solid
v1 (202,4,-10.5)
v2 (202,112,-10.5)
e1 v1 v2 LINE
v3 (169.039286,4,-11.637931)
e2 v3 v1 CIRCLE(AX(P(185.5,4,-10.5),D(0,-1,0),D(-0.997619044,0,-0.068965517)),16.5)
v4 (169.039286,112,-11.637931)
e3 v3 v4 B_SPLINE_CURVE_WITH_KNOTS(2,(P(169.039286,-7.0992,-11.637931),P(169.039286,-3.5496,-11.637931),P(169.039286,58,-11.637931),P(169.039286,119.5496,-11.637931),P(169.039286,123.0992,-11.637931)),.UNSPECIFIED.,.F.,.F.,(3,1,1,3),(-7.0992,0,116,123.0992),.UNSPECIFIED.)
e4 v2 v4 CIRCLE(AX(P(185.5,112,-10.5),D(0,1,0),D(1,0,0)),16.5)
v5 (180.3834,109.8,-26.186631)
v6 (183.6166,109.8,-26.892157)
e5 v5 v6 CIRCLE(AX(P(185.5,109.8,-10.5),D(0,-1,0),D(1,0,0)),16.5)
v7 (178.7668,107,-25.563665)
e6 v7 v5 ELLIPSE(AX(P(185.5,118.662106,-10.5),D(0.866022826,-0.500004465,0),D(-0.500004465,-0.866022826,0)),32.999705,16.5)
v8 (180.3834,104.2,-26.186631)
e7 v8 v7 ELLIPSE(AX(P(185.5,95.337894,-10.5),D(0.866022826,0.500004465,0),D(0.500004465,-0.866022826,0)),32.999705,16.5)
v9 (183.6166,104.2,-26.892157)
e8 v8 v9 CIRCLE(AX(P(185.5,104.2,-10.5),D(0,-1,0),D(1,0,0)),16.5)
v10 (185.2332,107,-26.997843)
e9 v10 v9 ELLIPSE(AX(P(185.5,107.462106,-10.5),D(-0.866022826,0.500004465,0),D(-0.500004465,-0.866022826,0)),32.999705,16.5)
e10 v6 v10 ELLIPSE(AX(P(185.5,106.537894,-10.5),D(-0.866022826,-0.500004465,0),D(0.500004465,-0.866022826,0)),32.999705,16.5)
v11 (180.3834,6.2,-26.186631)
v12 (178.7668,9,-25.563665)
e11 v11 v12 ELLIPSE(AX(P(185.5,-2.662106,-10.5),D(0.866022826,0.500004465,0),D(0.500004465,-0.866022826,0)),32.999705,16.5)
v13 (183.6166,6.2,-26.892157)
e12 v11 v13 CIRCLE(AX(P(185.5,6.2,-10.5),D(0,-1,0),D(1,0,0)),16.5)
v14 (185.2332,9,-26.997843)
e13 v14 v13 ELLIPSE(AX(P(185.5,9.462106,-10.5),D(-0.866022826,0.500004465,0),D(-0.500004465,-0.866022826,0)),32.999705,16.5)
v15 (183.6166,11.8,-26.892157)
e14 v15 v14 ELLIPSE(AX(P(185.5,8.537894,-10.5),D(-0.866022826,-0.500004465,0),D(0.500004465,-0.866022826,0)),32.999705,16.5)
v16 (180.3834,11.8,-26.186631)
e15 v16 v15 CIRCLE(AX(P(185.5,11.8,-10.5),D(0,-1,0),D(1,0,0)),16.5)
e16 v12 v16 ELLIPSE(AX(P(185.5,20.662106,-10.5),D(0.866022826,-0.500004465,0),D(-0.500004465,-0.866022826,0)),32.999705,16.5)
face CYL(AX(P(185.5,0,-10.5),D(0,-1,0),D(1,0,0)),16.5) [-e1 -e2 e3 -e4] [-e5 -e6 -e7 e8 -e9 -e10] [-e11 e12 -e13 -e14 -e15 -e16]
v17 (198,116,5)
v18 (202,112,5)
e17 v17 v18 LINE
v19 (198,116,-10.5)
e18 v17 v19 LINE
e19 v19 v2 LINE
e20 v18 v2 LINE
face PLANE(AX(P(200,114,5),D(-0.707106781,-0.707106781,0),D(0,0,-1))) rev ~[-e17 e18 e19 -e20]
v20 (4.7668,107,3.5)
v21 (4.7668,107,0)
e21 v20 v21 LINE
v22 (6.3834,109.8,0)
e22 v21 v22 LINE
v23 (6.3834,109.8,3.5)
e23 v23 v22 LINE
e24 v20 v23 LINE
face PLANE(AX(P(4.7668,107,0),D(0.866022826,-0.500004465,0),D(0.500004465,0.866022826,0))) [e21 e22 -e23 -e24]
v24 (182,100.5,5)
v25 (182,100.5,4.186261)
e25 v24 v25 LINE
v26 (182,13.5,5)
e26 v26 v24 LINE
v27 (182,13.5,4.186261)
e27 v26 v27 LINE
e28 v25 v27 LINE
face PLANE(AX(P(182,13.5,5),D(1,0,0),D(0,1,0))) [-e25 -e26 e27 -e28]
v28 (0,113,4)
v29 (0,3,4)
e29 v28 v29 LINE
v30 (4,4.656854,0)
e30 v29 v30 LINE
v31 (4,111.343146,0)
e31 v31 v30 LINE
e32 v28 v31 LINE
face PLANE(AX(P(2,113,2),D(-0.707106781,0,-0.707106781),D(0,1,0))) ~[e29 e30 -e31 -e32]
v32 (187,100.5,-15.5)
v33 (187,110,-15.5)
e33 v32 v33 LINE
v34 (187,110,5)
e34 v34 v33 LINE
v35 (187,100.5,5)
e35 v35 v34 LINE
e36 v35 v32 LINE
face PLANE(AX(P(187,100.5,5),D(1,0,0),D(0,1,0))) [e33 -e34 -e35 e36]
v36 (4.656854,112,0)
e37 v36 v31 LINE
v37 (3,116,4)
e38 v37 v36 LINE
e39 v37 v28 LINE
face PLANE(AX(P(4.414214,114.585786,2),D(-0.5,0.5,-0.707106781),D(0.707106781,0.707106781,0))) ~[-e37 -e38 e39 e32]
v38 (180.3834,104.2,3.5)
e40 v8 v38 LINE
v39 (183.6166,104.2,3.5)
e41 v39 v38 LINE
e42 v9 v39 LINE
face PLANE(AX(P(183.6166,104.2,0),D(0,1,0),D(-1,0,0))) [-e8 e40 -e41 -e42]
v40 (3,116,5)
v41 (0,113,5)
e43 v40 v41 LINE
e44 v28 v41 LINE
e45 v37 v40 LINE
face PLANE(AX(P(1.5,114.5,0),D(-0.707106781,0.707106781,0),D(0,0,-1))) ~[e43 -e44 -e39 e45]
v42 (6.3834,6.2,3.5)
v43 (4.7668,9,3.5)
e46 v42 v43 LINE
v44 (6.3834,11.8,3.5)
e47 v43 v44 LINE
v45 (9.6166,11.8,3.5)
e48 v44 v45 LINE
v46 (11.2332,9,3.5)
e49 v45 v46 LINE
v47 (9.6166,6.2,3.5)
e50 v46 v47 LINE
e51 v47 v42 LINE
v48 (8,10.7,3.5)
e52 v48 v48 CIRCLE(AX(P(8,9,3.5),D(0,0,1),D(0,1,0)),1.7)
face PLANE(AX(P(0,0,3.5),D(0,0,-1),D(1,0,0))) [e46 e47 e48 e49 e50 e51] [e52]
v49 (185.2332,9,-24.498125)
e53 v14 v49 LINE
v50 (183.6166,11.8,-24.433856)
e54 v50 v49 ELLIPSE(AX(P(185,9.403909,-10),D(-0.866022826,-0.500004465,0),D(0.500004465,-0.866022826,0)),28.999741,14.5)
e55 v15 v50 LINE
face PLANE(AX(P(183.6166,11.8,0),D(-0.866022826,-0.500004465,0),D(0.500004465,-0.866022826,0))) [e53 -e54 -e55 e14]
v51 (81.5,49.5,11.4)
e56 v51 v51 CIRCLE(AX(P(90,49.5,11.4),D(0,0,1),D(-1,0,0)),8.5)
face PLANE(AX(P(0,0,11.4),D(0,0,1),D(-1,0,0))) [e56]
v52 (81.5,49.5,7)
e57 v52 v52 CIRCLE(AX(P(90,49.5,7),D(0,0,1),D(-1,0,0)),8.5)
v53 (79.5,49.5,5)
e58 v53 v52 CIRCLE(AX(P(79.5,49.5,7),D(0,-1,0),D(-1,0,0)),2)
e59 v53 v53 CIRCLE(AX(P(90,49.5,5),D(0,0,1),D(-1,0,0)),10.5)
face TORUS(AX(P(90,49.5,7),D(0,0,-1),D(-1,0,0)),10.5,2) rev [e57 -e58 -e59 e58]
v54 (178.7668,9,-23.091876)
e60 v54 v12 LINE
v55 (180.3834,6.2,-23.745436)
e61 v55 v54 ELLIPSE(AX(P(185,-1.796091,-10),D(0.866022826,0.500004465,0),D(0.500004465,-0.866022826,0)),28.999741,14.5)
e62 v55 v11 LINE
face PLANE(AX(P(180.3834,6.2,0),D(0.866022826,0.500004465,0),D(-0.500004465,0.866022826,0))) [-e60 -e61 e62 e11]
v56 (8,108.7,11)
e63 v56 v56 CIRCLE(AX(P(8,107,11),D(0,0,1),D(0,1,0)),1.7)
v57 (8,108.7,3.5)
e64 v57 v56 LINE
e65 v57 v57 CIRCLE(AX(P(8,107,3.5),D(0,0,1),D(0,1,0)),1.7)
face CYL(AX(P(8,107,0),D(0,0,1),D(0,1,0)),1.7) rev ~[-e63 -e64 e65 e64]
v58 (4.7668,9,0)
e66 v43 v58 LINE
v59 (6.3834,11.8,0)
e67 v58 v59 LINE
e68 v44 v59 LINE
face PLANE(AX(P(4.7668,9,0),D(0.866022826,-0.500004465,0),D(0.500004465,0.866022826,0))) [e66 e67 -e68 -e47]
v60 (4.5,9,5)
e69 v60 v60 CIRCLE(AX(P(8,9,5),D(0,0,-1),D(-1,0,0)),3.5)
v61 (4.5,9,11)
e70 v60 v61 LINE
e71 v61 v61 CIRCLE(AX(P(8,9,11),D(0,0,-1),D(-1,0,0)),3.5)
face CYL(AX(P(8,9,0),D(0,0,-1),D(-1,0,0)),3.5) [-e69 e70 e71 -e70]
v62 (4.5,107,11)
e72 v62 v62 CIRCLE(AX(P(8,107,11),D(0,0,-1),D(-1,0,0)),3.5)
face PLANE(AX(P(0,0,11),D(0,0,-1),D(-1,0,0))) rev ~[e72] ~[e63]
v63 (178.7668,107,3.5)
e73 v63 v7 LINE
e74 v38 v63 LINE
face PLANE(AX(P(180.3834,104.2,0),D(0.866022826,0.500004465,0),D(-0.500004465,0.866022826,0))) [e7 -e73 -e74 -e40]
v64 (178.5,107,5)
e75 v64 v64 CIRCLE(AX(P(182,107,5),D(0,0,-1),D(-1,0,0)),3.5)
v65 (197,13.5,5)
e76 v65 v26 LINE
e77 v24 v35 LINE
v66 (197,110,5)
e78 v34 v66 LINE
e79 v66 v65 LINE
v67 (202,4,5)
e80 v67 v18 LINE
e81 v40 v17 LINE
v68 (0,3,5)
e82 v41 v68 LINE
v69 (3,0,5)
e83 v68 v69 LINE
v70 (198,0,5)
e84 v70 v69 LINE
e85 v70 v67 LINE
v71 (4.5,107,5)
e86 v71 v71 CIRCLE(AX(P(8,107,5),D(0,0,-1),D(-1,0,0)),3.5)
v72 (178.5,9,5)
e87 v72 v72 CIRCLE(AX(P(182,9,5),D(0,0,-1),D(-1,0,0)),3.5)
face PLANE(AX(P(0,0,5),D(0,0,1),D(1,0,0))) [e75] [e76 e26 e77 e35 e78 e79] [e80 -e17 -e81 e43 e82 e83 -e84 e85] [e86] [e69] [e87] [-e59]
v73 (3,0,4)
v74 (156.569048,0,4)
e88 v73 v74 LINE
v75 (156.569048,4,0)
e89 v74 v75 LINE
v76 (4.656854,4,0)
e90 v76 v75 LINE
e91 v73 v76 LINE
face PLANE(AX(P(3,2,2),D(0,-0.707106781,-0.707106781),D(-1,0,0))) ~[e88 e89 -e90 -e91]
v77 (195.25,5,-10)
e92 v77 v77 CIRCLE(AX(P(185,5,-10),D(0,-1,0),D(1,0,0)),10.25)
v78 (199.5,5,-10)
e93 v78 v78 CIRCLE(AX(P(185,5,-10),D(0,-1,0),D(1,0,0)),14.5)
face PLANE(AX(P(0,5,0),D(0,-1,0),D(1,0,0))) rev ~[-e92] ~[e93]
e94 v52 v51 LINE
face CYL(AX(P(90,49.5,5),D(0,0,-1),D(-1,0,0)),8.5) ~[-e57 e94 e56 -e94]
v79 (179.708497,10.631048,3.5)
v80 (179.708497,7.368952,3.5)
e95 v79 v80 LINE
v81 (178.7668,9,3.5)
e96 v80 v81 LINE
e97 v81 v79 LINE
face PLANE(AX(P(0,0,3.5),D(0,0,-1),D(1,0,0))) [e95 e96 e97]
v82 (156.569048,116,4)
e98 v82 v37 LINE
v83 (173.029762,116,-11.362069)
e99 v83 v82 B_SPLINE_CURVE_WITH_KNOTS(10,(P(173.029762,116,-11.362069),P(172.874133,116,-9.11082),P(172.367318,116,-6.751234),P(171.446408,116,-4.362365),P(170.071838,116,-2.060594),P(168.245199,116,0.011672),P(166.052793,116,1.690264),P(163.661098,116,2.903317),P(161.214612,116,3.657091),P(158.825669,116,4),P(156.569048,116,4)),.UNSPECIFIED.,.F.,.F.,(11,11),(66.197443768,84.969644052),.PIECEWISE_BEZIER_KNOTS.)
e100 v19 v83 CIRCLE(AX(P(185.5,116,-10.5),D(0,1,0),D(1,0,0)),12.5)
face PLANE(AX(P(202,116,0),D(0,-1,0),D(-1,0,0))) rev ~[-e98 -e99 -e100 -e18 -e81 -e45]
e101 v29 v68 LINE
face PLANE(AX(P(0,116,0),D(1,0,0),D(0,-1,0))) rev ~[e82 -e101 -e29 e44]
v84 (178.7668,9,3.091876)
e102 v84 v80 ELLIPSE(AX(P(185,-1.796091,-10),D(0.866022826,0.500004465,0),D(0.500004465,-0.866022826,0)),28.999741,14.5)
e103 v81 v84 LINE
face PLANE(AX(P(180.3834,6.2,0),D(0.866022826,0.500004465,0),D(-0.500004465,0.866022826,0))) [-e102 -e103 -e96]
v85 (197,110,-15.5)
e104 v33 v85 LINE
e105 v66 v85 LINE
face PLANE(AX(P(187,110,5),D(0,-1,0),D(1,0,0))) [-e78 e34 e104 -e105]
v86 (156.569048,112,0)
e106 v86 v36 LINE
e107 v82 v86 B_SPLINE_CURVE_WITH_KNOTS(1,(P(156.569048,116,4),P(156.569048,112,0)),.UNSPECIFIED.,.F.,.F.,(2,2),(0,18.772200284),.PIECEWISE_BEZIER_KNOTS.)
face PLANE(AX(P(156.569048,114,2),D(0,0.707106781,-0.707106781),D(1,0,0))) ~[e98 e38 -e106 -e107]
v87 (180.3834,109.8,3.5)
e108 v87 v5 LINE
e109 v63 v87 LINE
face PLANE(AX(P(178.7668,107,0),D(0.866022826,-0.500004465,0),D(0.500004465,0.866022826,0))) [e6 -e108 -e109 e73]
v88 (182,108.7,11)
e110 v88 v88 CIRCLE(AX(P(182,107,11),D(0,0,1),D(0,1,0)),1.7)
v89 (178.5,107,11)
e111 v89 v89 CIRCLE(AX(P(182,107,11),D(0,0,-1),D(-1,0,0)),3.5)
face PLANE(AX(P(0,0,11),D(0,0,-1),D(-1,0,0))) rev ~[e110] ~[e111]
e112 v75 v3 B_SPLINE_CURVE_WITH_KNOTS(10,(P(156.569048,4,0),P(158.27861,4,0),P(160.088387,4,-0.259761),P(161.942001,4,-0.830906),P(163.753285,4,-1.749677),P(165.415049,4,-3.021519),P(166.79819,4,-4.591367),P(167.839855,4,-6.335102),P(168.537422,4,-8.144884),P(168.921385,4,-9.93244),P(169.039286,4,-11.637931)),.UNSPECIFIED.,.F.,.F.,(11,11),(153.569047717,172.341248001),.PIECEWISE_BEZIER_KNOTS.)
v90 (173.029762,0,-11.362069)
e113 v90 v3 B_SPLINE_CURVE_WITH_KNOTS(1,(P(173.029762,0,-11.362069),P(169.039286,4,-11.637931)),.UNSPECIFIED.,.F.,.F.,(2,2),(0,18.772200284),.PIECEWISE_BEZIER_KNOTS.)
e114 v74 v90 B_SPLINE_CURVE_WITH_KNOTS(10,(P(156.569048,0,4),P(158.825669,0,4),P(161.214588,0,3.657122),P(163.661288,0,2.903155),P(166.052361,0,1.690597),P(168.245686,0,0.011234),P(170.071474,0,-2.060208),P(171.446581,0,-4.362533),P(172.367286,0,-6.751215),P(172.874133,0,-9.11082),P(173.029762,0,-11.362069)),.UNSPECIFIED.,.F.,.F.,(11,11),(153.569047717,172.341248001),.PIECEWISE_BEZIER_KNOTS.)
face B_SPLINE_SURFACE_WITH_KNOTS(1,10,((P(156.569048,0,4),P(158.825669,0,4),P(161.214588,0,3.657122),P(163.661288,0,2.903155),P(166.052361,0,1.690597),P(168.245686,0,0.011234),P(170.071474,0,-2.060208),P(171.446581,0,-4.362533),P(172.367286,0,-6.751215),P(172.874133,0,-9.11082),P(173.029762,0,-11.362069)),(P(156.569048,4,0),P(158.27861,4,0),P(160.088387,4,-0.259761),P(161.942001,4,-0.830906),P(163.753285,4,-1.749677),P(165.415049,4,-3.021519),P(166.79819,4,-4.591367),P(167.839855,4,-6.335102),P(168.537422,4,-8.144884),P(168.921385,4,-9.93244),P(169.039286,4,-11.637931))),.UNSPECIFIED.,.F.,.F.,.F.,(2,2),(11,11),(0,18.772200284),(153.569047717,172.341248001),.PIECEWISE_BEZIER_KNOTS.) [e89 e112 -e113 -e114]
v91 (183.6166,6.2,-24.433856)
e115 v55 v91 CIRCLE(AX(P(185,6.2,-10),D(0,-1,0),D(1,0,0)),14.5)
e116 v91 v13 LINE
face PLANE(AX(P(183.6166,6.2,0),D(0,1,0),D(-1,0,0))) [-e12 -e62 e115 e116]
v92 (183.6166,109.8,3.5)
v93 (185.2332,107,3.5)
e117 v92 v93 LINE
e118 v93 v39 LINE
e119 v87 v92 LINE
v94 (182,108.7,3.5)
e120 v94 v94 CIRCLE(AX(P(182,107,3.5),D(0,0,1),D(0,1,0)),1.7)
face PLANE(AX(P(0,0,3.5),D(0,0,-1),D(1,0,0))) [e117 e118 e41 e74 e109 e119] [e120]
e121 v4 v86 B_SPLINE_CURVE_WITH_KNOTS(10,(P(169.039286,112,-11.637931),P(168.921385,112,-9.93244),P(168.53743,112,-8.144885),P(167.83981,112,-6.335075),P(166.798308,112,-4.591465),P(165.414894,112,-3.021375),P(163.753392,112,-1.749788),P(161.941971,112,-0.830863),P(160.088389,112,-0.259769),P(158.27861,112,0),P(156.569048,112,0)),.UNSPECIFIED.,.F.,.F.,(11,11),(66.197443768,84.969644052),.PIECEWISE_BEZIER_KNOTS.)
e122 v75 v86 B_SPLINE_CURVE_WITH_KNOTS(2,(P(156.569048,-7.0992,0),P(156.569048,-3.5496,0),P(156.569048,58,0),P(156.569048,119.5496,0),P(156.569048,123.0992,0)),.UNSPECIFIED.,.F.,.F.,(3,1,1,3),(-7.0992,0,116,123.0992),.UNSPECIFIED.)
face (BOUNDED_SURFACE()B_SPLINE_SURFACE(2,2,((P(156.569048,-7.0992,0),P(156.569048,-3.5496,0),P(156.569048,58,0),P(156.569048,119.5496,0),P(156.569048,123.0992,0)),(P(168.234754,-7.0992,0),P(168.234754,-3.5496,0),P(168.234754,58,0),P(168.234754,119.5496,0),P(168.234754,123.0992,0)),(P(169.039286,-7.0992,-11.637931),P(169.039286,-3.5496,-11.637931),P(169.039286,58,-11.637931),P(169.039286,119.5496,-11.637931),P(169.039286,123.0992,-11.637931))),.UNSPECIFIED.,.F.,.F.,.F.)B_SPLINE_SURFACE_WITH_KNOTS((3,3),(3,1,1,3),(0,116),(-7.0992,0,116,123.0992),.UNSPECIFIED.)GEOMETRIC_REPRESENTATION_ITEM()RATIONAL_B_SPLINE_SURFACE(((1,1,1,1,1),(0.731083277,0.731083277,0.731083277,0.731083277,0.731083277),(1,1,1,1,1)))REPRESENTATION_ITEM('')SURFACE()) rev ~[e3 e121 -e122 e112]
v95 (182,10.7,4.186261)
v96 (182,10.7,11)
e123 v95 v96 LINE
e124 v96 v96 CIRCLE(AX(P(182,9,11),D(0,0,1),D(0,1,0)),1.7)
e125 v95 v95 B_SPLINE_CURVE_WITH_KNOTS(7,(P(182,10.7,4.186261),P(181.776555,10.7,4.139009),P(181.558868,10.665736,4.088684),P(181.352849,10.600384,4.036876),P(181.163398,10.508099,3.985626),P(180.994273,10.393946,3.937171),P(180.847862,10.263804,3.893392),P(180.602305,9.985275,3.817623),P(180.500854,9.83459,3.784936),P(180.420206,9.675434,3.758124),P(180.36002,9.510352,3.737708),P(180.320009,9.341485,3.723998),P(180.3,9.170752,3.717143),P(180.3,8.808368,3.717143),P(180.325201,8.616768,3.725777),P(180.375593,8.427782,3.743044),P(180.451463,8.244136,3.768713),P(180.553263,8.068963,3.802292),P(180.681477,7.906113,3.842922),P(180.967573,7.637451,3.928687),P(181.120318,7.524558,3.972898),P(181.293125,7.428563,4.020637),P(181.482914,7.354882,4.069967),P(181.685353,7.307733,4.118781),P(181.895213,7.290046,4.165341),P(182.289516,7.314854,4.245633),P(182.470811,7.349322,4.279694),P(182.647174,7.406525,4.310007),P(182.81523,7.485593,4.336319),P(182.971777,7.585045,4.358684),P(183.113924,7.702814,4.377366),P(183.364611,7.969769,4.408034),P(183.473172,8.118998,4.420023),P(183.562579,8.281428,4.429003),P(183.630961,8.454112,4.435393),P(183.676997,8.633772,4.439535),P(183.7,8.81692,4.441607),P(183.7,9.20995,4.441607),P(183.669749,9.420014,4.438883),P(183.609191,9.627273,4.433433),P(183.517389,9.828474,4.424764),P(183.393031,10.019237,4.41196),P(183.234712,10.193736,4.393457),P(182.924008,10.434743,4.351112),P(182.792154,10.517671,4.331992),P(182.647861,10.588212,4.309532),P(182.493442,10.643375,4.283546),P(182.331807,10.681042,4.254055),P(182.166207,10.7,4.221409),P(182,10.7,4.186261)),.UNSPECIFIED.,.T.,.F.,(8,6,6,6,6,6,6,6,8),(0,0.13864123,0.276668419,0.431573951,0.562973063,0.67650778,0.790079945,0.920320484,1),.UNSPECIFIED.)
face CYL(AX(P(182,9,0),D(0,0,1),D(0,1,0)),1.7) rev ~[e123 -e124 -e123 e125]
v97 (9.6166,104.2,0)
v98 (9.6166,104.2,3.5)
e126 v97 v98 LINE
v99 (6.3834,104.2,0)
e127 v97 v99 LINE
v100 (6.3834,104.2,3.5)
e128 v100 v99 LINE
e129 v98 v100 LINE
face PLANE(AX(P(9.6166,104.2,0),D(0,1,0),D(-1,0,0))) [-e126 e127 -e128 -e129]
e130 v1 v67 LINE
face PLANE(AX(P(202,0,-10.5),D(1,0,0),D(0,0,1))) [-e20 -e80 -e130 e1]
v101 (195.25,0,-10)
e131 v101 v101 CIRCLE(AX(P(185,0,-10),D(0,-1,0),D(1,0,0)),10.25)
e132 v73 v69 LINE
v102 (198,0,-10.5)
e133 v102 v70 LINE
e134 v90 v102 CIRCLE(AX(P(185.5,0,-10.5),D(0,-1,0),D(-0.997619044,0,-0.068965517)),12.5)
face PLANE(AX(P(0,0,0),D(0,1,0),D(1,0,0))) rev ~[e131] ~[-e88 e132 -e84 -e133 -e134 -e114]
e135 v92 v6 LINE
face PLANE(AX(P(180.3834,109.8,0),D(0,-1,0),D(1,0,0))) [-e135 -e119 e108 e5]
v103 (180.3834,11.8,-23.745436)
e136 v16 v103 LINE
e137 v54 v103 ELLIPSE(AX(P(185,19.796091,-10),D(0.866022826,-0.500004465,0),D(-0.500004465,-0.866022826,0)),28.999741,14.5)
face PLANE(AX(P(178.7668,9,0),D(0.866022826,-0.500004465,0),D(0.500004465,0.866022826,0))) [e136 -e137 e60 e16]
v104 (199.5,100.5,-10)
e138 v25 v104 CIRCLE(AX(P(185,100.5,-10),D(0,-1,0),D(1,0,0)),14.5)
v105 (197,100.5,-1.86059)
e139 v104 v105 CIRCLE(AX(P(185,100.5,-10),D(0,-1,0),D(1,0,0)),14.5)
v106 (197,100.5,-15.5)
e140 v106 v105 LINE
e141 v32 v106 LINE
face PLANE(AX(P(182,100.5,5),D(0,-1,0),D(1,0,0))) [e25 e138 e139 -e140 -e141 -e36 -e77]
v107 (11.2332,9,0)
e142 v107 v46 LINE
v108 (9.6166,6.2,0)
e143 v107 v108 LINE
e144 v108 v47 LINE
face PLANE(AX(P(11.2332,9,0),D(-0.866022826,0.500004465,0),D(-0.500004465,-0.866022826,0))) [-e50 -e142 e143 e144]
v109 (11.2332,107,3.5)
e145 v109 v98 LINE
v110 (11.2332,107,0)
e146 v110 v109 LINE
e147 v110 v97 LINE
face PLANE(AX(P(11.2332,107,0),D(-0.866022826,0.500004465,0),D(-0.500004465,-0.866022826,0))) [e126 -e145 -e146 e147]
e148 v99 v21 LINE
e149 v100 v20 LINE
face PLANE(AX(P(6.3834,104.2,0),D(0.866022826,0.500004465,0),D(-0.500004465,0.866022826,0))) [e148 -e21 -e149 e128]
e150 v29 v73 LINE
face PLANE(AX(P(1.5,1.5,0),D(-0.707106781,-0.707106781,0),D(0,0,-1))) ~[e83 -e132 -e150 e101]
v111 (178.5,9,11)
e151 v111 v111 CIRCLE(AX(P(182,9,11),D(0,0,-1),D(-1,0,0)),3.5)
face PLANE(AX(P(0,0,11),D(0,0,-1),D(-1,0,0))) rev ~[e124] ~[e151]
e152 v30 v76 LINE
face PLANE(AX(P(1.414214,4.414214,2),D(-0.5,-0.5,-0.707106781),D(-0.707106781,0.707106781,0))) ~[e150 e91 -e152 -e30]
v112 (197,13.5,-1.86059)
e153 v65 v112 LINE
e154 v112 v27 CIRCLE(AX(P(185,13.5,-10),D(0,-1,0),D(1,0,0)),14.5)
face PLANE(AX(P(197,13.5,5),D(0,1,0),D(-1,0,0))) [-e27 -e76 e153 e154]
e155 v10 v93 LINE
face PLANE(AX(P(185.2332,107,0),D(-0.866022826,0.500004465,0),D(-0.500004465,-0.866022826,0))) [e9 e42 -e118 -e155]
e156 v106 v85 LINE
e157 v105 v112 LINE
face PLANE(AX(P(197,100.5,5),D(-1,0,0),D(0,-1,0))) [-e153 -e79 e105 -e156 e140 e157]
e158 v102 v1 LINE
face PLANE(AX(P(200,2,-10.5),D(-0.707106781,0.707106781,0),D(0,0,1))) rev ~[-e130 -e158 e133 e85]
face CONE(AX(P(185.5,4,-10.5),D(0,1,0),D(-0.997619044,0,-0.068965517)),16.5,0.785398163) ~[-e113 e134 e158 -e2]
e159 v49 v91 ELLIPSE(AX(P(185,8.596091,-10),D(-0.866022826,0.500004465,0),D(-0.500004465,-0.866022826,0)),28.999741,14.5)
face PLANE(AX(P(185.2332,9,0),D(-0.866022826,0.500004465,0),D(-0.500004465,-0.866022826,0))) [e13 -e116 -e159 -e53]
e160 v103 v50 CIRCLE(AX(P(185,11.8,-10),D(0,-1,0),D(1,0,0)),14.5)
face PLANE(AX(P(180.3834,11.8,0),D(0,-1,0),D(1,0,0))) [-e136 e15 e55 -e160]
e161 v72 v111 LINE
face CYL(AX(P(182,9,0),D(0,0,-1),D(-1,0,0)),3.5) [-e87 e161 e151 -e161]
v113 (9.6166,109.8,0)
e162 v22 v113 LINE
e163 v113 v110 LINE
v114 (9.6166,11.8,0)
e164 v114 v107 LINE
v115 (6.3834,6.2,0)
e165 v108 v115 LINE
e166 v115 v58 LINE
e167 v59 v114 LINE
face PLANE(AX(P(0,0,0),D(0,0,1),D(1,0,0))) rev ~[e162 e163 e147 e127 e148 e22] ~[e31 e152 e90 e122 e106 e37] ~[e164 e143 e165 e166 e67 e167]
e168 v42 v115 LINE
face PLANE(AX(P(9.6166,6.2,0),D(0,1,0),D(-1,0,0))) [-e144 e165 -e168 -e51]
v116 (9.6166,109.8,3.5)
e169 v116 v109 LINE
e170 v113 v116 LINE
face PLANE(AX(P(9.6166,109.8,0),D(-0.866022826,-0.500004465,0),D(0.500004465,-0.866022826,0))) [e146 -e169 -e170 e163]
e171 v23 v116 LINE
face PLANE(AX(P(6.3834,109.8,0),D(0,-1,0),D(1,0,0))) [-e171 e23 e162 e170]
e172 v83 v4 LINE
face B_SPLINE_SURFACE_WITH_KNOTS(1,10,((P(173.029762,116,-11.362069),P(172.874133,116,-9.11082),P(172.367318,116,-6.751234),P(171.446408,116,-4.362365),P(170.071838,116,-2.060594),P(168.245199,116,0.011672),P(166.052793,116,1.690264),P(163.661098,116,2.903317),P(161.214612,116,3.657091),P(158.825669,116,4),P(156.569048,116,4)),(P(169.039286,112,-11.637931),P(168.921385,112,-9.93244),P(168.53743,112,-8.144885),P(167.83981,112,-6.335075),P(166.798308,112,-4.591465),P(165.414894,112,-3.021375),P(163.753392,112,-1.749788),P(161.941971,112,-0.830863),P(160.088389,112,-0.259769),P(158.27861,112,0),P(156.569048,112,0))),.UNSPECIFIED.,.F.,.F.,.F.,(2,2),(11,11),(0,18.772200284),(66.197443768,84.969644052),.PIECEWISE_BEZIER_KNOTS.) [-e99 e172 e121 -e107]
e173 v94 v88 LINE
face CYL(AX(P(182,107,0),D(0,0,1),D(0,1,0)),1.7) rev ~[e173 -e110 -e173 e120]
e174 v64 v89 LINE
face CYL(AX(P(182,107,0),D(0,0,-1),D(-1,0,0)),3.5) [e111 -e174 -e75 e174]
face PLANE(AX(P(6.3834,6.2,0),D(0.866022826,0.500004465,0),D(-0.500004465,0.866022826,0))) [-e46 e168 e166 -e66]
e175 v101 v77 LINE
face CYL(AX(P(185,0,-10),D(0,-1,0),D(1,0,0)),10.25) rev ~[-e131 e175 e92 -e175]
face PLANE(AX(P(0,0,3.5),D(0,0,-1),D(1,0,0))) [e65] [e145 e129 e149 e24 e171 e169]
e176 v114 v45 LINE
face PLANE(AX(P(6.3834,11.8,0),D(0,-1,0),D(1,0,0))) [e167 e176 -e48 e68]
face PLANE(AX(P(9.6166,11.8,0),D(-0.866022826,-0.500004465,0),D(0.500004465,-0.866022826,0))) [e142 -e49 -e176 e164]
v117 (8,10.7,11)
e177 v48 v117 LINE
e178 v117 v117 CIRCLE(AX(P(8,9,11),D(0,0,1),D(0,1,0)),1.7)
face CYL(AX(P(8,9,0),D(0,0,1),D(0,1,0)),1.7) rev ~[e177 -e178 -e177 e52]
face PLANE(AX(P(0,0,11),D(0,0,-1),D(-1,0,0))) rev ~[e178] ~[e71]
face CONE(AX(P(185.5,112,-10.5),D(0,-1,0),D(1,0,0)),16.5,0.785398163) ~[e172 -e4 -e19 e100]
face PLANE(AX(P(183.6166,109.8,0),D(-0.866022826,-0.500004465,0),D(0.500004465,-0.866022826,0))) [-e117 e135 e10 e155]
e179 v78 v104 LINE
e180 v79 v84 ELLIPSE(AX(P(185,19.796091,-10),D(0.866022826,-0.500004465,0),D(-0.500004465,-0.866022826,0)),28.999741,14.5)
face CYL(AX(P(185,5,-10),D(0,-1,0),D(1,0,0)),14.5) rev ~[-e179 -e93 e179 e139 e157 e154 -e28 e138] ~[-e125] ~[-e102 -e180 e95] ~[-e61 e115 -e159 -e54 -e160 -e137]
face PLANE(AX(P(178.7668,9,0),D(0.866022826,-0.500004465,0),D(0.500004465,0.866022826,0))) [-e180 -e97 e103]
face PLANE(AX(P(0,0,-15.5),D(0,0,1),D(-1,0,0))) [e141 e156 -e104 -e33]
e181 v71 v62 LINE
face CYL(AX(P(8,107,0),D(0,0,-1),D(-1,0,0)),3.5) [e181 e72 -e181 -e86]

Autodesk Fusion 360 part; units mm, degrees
sketch "Sketch1" plane through (0, 0, 0) normal (0, 0, 1) x (1, 0, 0)
  line L0 (0, 0) -> (202, 0)
  line L1 (202, 0) -> (202, 116)
  line L2 (202, 116) -> (0, 116)
  line L3 (0, 116) -> (0, 0)
  dimension "d1" = 202
  dimension "d2" = 116
extrude "Extrude1" add sketch "Sketch1" along normal blind 5
sketch "Sketch2" plane through (0, 0, 0) normal (0, 0, -1) x (-1, 0, 0)
  circle A0 centre (-182, 107) radius 3.5
  line L0 (-182, 107) -> (-182, 9) construction
  line L1 (-182, 9) -> (-8, 9) construction
  circle A1 centre (-182, 9) radius 3.5
  line L2 (-8, 9) -> (-8, 107) construction
  circle A2 centre (-8, 9) radius 3.5
  circle A3 centre (-8, 107) radius 3.5
  line L3 (-8, 107) -> (-182, 107) construction
  line L4 (0, 0) -> (0, 116)
  line L5 (0, 116) -> (-202, 116)
  line L6 (-202, 116) -> (-202, 0)
  line L7 (-202, 0) -> (0, 0)
  dimension "d5" = 174
  dimension "d6" = 98
  dimension "d9" = 7
  dimension "d17" = 8
  dimension "d18" = 9
extrude "Extrude4" add sketch "Sketch2" against normal blind 11 contours A0 | A1 | A2 | A3
sketch "Sketch3" plane through (0, 0, 0) normal (0, -1, 0) x (1, 0, 0)
  line L0 (0, 0) -> (202, 0)
  line L1 (202, 0) -> (202, 5)
  line L2 (202, 5) -> (0, 5)
  line L3 (0, 5) -> (0, 0)
  circle A0 centre (185.5, -10.5) radius 16.5
  line L4 (202, -10.5) -> (202, 5)
  line L5 (169, -10.5) -> (169, 5)
  circle A1 centre (185.5, -10.5) radius 15.5
  dimension "d27" = 33
  dimension "d73" = 31
extrude "Extrude5" add sketch "Sketch3" against normal blind 116 contours L0 A0 L5 | L0 L2 A0 A1 | L0 A0 A1 | L0 A1 | L0 A1 | L0 A0 L4 | L0 L2 A0 A1
sketch "Sketch4" plane through (0, 0, 0) normal (0, -1, 0) x (1, 0, 0)
  line L0 (0, 0) -> (169, 0)
  line L1 (202, -10.5) -> (202, 5)
  line L2 (202, 5) -> (0, 5)
  line L3 (0, 5) -> (0, 0)
  circle A0 centre (185, -10) radius 10.25
  circle A1 centre (185, -10) radius 14.5
  line L4 (169, 0) -> (169, -10.5)
  arc A2 (169, -10.5) -> (202, -10.5) centre (185.5, -10.5) ccw
  dimension "d30" = 20.5
  dimension "d42" = 29
sketch "Sketch5" plane through (0, 0, 5) normal (0, 0, 1) x (-1, 0, 0)
  circle A0 centre (-8, -9) radius 3.5
  circle A1 centre (-8, -107) radius 3.5
  line L0 (0, -116) -> (0, 0)
  line L1 (0, 0) -> (-202, 0)
  line L2 (-202, -116) -> (0, -116)
  line L3 (-197, -13.5) -> (-182, -13.5)
  line L4 (-182, -13.5) -> (-182, -100.5)
  line L5 (-182, -100.5) -> (-197, -100.5)
  line L6 (-197, -100.5) -> (-197, -13.5)
  line L7 (-174.75, 0) -> (-195.25, 0)
  line L8 (-197, -100.5) -> (-187, -100.5)
  line L9 (-187, -100.5) -> (-187, -110)
  line L10 (-187, -110) -> (-197, -110)
  line L11 (-197, -110) -> (-197, -100.5)
  circle A2 centre (-182, -9) radius 3.5
  circle A3 centre (-182, -107) radius 3.5
  line L12 (-202, 0) -> (-202, -116)
  point P0 (-189.5, -100.5)
  dimension "d32" = 87
  dimension "d33" = 13.5
  dimension "d34" = 15
  dimension "d51" = 10
  dimension "d52" = 6
extrude "Extrude6" cut sketch "Sketch5" against normal blind 20.5 contours L3 L4 L5 L6 L8 | L5 L8 L9 L10 L11
extrude "Extrude7" cut sketch "Sketch4" against normal blind 95.5 from surface at -5 contours A0 | A1
sketch "Sketch6" plane through (0, 13.5, 0) normal (0, 1, 0) x (-1, 0, 0)
  line L0 (-197, 5) -> (-197, -1.8606)
  line L1 (-169, 0) -> (0, 0)
  line L2 (0, 0) -> (0, 5)
  line L3 (0, 5) -> (-202, 5)
  line L4 (-202, 5) -> (-202, -10.5)
  arc A0 (-202, -10.5) -> (-169, -10.5) centre (-185.5, -10.5) ccw
  circle A1 centre (-185.5, -10.5) radius 15
  line L5 (-169, -10.5) -> (-169, 0)
  line L6 (-182, 4.1863) -> (-182, 5)
  arc A2 (-182, 4.1863) -> (-197, -1.8606) centre (-185, -10) ccw
  line L7 (-182, 5) -> (-197, 5)
  dimension "d39" = 30
extrude "Extrude9" cut sketch "Sketch4" against normal blind 33 contours A0
fillet "Fillet2" radius 12.5 1 edges at (169, 58, 0)
sketch "Sketch7" plane through (0, 0, 5) normal (0, 0, 1) x (-1, 0, 0)
  circle A0 centre (-8, -9) radius 3.5
  circle A1 centre (-8, -107) radius 3.5
  line L0 (0, -116) -> (0, 0)
  line L1 (0, 0) -> (-202, 0)
  line L2 (-202, -116) -> (0, -116)
  line L3 (-187, -100.5) -> (-187, -110)
  line L4 (-187, -110) -> (-197, -110)
  line L5 (-197, -110) -> (-197, -100.5)
  line L6 (-197, -13.5) -> (-182, -13.5)
  line L7 (-182, -100.5) -> (-187, -100.5)
  circle A2 centre (-182, -107) radius 3.5
  line L8 (-202, 0) -> (-202, -116)
  line L9 (-182, -13.5) -> (-182, -100.5)
  circle A3 centre (-182, -9) radius 3.5
  line L10 (-197, -100.5) -> (-197, -13.5)
sketch "Sketch8" plane through (0, 0, 5) normal (0, 0, 1) x (-1, 0, 0)
  circle A0 centre (-90, -49.5) radius 8.5
  line L0 (0, -116) -> (0, 0)
  line L1 (0, 0) -> (-202, 0)
  dimension "d53" = 17
  dimension "d54" = 90
  dimension "d55" = 49.5
extrude "Extrude10" add sketch "Sketch8" along normal blind 6.4
fillet "Fillet3" radius 2 1 edges at (97.9248, 46.4263, 5)
sketch "Sketch9" plane through (0, 0, 0) normal (0, 0, -1) x (1, 0, 0)
  line L0 (156.569, 0) -> (0, 0)
  line L1 (0, 0) -> (0, -116)
  line L2 (0, -116) -> (156.569, -116)
  line L3 (6.3834, -104.2) -> (4.7668, -107)
  line L4 (4.7668, -107) -> (6.3834, -109.8)
  line L5 (6.3834, -109.8) -> (9.6166, -109.8)
  line L6 (9.6166, -109.8) -> (11.2332, -107)
  line L7 (11.2332, -107) -> (9.6166, -104.2)
  line L8 (9.6166, -104.2) -> (6.3834, -104.2)
  line L9 (6.3834, -6.2) -> (4.7668, -9)
  line L10 (4.7668, -9) -> (6.3834, -11.8)
  line L11 (6.3834, -11.8) -> (9.6166, -11.8)
  line L12 (9.6166, -11.8) -> (11.2332, -9)
  line L13 (11.2332, -9) -> (9.6166, -6.2)
  line L14 (9.6166, -6.2) -> (6.3834, -6.2)
  line L15 (178.7668, -107) -> (180.3834, -109.8)
  line L16 (180.3834, -109.8) -> (183.6166, -109.8)
  line L17 (183.6166, -109.8) -> (185.2332, -107)
  line L18 (185.2332, -107) -> (183.6166, -104.2)
  line L19 (183.6166, -104.2) -> (180.3834, -104.2)
  line L20 (180.3834, -104.2) -> (178.7668, -107)
  line L21 (183.6166, -6.2) -> (180.3834, -6.2)
  line L22 (180.3834, -6.2) -> (178.7668, -9)
  line L23 (178.7668, -9) -> (180.3834, -11.8)
  line L24 (180.3834, -11.8) -> (183.6166, -11.8)
  line L25 (183.6166, -11.8) -> (185.2332, -9)
  line L26 (185.2332, -9) -> (183.6166, -6.2)
  line L27 (156.569, -116) -> (156.569, 0)
  line L28 (156.569, -116) -> (156.569, 0)
  line L29 (156.569, 0) -> (0, 0)
  line L30 (0, 0) -> (0, -116)
  line L31 (0, -116) -> (156.569, -116)
  point P0 (8, -107)
  point P1 (8, -9)
  point P2 (182, -107)
  point P3 (182, -107)
  point P4 (182, -9)
  point P5 (182, -9)
  dimension "d60" = 5.6
chamfer "Chamfer3" distance 3 angle 45 2 edges at (0, 116, 2.5) (0, 0, 2.5)
chamfer "Chamfer4" distance 4 angle 45 11 edges at (0, 58, 0) (79.7845, 0, 0) (165.0977, 0, -3.3615) (186.0693, 0, -26.9902) (202, 0, -2.75) (1.5, 1.5, 0) (1.5, 114.5, 0) (79.7845, 116, 0) (165.0977, 116, -3.3615) (186.0693, 116, -26.9902) (202, 116, -2.75)
hole "Hole1" at (182, 9, 0) at (182, 107, 0) at (8, 107, 0) at (8, 9, 0) direction (0, 0, 1) diameter 3.4 end through all
extrude "Extrude11" cut sketch "Sketch9" along normal blind 50 and the other way blind 3.5 contours L3 L4 L5 L6 L7 L8 | L9 L10 L11 L12 L13 L14 | L15 L16 L17 L18 L19 L20 | L21 L22 L23 L24 L25 L26
